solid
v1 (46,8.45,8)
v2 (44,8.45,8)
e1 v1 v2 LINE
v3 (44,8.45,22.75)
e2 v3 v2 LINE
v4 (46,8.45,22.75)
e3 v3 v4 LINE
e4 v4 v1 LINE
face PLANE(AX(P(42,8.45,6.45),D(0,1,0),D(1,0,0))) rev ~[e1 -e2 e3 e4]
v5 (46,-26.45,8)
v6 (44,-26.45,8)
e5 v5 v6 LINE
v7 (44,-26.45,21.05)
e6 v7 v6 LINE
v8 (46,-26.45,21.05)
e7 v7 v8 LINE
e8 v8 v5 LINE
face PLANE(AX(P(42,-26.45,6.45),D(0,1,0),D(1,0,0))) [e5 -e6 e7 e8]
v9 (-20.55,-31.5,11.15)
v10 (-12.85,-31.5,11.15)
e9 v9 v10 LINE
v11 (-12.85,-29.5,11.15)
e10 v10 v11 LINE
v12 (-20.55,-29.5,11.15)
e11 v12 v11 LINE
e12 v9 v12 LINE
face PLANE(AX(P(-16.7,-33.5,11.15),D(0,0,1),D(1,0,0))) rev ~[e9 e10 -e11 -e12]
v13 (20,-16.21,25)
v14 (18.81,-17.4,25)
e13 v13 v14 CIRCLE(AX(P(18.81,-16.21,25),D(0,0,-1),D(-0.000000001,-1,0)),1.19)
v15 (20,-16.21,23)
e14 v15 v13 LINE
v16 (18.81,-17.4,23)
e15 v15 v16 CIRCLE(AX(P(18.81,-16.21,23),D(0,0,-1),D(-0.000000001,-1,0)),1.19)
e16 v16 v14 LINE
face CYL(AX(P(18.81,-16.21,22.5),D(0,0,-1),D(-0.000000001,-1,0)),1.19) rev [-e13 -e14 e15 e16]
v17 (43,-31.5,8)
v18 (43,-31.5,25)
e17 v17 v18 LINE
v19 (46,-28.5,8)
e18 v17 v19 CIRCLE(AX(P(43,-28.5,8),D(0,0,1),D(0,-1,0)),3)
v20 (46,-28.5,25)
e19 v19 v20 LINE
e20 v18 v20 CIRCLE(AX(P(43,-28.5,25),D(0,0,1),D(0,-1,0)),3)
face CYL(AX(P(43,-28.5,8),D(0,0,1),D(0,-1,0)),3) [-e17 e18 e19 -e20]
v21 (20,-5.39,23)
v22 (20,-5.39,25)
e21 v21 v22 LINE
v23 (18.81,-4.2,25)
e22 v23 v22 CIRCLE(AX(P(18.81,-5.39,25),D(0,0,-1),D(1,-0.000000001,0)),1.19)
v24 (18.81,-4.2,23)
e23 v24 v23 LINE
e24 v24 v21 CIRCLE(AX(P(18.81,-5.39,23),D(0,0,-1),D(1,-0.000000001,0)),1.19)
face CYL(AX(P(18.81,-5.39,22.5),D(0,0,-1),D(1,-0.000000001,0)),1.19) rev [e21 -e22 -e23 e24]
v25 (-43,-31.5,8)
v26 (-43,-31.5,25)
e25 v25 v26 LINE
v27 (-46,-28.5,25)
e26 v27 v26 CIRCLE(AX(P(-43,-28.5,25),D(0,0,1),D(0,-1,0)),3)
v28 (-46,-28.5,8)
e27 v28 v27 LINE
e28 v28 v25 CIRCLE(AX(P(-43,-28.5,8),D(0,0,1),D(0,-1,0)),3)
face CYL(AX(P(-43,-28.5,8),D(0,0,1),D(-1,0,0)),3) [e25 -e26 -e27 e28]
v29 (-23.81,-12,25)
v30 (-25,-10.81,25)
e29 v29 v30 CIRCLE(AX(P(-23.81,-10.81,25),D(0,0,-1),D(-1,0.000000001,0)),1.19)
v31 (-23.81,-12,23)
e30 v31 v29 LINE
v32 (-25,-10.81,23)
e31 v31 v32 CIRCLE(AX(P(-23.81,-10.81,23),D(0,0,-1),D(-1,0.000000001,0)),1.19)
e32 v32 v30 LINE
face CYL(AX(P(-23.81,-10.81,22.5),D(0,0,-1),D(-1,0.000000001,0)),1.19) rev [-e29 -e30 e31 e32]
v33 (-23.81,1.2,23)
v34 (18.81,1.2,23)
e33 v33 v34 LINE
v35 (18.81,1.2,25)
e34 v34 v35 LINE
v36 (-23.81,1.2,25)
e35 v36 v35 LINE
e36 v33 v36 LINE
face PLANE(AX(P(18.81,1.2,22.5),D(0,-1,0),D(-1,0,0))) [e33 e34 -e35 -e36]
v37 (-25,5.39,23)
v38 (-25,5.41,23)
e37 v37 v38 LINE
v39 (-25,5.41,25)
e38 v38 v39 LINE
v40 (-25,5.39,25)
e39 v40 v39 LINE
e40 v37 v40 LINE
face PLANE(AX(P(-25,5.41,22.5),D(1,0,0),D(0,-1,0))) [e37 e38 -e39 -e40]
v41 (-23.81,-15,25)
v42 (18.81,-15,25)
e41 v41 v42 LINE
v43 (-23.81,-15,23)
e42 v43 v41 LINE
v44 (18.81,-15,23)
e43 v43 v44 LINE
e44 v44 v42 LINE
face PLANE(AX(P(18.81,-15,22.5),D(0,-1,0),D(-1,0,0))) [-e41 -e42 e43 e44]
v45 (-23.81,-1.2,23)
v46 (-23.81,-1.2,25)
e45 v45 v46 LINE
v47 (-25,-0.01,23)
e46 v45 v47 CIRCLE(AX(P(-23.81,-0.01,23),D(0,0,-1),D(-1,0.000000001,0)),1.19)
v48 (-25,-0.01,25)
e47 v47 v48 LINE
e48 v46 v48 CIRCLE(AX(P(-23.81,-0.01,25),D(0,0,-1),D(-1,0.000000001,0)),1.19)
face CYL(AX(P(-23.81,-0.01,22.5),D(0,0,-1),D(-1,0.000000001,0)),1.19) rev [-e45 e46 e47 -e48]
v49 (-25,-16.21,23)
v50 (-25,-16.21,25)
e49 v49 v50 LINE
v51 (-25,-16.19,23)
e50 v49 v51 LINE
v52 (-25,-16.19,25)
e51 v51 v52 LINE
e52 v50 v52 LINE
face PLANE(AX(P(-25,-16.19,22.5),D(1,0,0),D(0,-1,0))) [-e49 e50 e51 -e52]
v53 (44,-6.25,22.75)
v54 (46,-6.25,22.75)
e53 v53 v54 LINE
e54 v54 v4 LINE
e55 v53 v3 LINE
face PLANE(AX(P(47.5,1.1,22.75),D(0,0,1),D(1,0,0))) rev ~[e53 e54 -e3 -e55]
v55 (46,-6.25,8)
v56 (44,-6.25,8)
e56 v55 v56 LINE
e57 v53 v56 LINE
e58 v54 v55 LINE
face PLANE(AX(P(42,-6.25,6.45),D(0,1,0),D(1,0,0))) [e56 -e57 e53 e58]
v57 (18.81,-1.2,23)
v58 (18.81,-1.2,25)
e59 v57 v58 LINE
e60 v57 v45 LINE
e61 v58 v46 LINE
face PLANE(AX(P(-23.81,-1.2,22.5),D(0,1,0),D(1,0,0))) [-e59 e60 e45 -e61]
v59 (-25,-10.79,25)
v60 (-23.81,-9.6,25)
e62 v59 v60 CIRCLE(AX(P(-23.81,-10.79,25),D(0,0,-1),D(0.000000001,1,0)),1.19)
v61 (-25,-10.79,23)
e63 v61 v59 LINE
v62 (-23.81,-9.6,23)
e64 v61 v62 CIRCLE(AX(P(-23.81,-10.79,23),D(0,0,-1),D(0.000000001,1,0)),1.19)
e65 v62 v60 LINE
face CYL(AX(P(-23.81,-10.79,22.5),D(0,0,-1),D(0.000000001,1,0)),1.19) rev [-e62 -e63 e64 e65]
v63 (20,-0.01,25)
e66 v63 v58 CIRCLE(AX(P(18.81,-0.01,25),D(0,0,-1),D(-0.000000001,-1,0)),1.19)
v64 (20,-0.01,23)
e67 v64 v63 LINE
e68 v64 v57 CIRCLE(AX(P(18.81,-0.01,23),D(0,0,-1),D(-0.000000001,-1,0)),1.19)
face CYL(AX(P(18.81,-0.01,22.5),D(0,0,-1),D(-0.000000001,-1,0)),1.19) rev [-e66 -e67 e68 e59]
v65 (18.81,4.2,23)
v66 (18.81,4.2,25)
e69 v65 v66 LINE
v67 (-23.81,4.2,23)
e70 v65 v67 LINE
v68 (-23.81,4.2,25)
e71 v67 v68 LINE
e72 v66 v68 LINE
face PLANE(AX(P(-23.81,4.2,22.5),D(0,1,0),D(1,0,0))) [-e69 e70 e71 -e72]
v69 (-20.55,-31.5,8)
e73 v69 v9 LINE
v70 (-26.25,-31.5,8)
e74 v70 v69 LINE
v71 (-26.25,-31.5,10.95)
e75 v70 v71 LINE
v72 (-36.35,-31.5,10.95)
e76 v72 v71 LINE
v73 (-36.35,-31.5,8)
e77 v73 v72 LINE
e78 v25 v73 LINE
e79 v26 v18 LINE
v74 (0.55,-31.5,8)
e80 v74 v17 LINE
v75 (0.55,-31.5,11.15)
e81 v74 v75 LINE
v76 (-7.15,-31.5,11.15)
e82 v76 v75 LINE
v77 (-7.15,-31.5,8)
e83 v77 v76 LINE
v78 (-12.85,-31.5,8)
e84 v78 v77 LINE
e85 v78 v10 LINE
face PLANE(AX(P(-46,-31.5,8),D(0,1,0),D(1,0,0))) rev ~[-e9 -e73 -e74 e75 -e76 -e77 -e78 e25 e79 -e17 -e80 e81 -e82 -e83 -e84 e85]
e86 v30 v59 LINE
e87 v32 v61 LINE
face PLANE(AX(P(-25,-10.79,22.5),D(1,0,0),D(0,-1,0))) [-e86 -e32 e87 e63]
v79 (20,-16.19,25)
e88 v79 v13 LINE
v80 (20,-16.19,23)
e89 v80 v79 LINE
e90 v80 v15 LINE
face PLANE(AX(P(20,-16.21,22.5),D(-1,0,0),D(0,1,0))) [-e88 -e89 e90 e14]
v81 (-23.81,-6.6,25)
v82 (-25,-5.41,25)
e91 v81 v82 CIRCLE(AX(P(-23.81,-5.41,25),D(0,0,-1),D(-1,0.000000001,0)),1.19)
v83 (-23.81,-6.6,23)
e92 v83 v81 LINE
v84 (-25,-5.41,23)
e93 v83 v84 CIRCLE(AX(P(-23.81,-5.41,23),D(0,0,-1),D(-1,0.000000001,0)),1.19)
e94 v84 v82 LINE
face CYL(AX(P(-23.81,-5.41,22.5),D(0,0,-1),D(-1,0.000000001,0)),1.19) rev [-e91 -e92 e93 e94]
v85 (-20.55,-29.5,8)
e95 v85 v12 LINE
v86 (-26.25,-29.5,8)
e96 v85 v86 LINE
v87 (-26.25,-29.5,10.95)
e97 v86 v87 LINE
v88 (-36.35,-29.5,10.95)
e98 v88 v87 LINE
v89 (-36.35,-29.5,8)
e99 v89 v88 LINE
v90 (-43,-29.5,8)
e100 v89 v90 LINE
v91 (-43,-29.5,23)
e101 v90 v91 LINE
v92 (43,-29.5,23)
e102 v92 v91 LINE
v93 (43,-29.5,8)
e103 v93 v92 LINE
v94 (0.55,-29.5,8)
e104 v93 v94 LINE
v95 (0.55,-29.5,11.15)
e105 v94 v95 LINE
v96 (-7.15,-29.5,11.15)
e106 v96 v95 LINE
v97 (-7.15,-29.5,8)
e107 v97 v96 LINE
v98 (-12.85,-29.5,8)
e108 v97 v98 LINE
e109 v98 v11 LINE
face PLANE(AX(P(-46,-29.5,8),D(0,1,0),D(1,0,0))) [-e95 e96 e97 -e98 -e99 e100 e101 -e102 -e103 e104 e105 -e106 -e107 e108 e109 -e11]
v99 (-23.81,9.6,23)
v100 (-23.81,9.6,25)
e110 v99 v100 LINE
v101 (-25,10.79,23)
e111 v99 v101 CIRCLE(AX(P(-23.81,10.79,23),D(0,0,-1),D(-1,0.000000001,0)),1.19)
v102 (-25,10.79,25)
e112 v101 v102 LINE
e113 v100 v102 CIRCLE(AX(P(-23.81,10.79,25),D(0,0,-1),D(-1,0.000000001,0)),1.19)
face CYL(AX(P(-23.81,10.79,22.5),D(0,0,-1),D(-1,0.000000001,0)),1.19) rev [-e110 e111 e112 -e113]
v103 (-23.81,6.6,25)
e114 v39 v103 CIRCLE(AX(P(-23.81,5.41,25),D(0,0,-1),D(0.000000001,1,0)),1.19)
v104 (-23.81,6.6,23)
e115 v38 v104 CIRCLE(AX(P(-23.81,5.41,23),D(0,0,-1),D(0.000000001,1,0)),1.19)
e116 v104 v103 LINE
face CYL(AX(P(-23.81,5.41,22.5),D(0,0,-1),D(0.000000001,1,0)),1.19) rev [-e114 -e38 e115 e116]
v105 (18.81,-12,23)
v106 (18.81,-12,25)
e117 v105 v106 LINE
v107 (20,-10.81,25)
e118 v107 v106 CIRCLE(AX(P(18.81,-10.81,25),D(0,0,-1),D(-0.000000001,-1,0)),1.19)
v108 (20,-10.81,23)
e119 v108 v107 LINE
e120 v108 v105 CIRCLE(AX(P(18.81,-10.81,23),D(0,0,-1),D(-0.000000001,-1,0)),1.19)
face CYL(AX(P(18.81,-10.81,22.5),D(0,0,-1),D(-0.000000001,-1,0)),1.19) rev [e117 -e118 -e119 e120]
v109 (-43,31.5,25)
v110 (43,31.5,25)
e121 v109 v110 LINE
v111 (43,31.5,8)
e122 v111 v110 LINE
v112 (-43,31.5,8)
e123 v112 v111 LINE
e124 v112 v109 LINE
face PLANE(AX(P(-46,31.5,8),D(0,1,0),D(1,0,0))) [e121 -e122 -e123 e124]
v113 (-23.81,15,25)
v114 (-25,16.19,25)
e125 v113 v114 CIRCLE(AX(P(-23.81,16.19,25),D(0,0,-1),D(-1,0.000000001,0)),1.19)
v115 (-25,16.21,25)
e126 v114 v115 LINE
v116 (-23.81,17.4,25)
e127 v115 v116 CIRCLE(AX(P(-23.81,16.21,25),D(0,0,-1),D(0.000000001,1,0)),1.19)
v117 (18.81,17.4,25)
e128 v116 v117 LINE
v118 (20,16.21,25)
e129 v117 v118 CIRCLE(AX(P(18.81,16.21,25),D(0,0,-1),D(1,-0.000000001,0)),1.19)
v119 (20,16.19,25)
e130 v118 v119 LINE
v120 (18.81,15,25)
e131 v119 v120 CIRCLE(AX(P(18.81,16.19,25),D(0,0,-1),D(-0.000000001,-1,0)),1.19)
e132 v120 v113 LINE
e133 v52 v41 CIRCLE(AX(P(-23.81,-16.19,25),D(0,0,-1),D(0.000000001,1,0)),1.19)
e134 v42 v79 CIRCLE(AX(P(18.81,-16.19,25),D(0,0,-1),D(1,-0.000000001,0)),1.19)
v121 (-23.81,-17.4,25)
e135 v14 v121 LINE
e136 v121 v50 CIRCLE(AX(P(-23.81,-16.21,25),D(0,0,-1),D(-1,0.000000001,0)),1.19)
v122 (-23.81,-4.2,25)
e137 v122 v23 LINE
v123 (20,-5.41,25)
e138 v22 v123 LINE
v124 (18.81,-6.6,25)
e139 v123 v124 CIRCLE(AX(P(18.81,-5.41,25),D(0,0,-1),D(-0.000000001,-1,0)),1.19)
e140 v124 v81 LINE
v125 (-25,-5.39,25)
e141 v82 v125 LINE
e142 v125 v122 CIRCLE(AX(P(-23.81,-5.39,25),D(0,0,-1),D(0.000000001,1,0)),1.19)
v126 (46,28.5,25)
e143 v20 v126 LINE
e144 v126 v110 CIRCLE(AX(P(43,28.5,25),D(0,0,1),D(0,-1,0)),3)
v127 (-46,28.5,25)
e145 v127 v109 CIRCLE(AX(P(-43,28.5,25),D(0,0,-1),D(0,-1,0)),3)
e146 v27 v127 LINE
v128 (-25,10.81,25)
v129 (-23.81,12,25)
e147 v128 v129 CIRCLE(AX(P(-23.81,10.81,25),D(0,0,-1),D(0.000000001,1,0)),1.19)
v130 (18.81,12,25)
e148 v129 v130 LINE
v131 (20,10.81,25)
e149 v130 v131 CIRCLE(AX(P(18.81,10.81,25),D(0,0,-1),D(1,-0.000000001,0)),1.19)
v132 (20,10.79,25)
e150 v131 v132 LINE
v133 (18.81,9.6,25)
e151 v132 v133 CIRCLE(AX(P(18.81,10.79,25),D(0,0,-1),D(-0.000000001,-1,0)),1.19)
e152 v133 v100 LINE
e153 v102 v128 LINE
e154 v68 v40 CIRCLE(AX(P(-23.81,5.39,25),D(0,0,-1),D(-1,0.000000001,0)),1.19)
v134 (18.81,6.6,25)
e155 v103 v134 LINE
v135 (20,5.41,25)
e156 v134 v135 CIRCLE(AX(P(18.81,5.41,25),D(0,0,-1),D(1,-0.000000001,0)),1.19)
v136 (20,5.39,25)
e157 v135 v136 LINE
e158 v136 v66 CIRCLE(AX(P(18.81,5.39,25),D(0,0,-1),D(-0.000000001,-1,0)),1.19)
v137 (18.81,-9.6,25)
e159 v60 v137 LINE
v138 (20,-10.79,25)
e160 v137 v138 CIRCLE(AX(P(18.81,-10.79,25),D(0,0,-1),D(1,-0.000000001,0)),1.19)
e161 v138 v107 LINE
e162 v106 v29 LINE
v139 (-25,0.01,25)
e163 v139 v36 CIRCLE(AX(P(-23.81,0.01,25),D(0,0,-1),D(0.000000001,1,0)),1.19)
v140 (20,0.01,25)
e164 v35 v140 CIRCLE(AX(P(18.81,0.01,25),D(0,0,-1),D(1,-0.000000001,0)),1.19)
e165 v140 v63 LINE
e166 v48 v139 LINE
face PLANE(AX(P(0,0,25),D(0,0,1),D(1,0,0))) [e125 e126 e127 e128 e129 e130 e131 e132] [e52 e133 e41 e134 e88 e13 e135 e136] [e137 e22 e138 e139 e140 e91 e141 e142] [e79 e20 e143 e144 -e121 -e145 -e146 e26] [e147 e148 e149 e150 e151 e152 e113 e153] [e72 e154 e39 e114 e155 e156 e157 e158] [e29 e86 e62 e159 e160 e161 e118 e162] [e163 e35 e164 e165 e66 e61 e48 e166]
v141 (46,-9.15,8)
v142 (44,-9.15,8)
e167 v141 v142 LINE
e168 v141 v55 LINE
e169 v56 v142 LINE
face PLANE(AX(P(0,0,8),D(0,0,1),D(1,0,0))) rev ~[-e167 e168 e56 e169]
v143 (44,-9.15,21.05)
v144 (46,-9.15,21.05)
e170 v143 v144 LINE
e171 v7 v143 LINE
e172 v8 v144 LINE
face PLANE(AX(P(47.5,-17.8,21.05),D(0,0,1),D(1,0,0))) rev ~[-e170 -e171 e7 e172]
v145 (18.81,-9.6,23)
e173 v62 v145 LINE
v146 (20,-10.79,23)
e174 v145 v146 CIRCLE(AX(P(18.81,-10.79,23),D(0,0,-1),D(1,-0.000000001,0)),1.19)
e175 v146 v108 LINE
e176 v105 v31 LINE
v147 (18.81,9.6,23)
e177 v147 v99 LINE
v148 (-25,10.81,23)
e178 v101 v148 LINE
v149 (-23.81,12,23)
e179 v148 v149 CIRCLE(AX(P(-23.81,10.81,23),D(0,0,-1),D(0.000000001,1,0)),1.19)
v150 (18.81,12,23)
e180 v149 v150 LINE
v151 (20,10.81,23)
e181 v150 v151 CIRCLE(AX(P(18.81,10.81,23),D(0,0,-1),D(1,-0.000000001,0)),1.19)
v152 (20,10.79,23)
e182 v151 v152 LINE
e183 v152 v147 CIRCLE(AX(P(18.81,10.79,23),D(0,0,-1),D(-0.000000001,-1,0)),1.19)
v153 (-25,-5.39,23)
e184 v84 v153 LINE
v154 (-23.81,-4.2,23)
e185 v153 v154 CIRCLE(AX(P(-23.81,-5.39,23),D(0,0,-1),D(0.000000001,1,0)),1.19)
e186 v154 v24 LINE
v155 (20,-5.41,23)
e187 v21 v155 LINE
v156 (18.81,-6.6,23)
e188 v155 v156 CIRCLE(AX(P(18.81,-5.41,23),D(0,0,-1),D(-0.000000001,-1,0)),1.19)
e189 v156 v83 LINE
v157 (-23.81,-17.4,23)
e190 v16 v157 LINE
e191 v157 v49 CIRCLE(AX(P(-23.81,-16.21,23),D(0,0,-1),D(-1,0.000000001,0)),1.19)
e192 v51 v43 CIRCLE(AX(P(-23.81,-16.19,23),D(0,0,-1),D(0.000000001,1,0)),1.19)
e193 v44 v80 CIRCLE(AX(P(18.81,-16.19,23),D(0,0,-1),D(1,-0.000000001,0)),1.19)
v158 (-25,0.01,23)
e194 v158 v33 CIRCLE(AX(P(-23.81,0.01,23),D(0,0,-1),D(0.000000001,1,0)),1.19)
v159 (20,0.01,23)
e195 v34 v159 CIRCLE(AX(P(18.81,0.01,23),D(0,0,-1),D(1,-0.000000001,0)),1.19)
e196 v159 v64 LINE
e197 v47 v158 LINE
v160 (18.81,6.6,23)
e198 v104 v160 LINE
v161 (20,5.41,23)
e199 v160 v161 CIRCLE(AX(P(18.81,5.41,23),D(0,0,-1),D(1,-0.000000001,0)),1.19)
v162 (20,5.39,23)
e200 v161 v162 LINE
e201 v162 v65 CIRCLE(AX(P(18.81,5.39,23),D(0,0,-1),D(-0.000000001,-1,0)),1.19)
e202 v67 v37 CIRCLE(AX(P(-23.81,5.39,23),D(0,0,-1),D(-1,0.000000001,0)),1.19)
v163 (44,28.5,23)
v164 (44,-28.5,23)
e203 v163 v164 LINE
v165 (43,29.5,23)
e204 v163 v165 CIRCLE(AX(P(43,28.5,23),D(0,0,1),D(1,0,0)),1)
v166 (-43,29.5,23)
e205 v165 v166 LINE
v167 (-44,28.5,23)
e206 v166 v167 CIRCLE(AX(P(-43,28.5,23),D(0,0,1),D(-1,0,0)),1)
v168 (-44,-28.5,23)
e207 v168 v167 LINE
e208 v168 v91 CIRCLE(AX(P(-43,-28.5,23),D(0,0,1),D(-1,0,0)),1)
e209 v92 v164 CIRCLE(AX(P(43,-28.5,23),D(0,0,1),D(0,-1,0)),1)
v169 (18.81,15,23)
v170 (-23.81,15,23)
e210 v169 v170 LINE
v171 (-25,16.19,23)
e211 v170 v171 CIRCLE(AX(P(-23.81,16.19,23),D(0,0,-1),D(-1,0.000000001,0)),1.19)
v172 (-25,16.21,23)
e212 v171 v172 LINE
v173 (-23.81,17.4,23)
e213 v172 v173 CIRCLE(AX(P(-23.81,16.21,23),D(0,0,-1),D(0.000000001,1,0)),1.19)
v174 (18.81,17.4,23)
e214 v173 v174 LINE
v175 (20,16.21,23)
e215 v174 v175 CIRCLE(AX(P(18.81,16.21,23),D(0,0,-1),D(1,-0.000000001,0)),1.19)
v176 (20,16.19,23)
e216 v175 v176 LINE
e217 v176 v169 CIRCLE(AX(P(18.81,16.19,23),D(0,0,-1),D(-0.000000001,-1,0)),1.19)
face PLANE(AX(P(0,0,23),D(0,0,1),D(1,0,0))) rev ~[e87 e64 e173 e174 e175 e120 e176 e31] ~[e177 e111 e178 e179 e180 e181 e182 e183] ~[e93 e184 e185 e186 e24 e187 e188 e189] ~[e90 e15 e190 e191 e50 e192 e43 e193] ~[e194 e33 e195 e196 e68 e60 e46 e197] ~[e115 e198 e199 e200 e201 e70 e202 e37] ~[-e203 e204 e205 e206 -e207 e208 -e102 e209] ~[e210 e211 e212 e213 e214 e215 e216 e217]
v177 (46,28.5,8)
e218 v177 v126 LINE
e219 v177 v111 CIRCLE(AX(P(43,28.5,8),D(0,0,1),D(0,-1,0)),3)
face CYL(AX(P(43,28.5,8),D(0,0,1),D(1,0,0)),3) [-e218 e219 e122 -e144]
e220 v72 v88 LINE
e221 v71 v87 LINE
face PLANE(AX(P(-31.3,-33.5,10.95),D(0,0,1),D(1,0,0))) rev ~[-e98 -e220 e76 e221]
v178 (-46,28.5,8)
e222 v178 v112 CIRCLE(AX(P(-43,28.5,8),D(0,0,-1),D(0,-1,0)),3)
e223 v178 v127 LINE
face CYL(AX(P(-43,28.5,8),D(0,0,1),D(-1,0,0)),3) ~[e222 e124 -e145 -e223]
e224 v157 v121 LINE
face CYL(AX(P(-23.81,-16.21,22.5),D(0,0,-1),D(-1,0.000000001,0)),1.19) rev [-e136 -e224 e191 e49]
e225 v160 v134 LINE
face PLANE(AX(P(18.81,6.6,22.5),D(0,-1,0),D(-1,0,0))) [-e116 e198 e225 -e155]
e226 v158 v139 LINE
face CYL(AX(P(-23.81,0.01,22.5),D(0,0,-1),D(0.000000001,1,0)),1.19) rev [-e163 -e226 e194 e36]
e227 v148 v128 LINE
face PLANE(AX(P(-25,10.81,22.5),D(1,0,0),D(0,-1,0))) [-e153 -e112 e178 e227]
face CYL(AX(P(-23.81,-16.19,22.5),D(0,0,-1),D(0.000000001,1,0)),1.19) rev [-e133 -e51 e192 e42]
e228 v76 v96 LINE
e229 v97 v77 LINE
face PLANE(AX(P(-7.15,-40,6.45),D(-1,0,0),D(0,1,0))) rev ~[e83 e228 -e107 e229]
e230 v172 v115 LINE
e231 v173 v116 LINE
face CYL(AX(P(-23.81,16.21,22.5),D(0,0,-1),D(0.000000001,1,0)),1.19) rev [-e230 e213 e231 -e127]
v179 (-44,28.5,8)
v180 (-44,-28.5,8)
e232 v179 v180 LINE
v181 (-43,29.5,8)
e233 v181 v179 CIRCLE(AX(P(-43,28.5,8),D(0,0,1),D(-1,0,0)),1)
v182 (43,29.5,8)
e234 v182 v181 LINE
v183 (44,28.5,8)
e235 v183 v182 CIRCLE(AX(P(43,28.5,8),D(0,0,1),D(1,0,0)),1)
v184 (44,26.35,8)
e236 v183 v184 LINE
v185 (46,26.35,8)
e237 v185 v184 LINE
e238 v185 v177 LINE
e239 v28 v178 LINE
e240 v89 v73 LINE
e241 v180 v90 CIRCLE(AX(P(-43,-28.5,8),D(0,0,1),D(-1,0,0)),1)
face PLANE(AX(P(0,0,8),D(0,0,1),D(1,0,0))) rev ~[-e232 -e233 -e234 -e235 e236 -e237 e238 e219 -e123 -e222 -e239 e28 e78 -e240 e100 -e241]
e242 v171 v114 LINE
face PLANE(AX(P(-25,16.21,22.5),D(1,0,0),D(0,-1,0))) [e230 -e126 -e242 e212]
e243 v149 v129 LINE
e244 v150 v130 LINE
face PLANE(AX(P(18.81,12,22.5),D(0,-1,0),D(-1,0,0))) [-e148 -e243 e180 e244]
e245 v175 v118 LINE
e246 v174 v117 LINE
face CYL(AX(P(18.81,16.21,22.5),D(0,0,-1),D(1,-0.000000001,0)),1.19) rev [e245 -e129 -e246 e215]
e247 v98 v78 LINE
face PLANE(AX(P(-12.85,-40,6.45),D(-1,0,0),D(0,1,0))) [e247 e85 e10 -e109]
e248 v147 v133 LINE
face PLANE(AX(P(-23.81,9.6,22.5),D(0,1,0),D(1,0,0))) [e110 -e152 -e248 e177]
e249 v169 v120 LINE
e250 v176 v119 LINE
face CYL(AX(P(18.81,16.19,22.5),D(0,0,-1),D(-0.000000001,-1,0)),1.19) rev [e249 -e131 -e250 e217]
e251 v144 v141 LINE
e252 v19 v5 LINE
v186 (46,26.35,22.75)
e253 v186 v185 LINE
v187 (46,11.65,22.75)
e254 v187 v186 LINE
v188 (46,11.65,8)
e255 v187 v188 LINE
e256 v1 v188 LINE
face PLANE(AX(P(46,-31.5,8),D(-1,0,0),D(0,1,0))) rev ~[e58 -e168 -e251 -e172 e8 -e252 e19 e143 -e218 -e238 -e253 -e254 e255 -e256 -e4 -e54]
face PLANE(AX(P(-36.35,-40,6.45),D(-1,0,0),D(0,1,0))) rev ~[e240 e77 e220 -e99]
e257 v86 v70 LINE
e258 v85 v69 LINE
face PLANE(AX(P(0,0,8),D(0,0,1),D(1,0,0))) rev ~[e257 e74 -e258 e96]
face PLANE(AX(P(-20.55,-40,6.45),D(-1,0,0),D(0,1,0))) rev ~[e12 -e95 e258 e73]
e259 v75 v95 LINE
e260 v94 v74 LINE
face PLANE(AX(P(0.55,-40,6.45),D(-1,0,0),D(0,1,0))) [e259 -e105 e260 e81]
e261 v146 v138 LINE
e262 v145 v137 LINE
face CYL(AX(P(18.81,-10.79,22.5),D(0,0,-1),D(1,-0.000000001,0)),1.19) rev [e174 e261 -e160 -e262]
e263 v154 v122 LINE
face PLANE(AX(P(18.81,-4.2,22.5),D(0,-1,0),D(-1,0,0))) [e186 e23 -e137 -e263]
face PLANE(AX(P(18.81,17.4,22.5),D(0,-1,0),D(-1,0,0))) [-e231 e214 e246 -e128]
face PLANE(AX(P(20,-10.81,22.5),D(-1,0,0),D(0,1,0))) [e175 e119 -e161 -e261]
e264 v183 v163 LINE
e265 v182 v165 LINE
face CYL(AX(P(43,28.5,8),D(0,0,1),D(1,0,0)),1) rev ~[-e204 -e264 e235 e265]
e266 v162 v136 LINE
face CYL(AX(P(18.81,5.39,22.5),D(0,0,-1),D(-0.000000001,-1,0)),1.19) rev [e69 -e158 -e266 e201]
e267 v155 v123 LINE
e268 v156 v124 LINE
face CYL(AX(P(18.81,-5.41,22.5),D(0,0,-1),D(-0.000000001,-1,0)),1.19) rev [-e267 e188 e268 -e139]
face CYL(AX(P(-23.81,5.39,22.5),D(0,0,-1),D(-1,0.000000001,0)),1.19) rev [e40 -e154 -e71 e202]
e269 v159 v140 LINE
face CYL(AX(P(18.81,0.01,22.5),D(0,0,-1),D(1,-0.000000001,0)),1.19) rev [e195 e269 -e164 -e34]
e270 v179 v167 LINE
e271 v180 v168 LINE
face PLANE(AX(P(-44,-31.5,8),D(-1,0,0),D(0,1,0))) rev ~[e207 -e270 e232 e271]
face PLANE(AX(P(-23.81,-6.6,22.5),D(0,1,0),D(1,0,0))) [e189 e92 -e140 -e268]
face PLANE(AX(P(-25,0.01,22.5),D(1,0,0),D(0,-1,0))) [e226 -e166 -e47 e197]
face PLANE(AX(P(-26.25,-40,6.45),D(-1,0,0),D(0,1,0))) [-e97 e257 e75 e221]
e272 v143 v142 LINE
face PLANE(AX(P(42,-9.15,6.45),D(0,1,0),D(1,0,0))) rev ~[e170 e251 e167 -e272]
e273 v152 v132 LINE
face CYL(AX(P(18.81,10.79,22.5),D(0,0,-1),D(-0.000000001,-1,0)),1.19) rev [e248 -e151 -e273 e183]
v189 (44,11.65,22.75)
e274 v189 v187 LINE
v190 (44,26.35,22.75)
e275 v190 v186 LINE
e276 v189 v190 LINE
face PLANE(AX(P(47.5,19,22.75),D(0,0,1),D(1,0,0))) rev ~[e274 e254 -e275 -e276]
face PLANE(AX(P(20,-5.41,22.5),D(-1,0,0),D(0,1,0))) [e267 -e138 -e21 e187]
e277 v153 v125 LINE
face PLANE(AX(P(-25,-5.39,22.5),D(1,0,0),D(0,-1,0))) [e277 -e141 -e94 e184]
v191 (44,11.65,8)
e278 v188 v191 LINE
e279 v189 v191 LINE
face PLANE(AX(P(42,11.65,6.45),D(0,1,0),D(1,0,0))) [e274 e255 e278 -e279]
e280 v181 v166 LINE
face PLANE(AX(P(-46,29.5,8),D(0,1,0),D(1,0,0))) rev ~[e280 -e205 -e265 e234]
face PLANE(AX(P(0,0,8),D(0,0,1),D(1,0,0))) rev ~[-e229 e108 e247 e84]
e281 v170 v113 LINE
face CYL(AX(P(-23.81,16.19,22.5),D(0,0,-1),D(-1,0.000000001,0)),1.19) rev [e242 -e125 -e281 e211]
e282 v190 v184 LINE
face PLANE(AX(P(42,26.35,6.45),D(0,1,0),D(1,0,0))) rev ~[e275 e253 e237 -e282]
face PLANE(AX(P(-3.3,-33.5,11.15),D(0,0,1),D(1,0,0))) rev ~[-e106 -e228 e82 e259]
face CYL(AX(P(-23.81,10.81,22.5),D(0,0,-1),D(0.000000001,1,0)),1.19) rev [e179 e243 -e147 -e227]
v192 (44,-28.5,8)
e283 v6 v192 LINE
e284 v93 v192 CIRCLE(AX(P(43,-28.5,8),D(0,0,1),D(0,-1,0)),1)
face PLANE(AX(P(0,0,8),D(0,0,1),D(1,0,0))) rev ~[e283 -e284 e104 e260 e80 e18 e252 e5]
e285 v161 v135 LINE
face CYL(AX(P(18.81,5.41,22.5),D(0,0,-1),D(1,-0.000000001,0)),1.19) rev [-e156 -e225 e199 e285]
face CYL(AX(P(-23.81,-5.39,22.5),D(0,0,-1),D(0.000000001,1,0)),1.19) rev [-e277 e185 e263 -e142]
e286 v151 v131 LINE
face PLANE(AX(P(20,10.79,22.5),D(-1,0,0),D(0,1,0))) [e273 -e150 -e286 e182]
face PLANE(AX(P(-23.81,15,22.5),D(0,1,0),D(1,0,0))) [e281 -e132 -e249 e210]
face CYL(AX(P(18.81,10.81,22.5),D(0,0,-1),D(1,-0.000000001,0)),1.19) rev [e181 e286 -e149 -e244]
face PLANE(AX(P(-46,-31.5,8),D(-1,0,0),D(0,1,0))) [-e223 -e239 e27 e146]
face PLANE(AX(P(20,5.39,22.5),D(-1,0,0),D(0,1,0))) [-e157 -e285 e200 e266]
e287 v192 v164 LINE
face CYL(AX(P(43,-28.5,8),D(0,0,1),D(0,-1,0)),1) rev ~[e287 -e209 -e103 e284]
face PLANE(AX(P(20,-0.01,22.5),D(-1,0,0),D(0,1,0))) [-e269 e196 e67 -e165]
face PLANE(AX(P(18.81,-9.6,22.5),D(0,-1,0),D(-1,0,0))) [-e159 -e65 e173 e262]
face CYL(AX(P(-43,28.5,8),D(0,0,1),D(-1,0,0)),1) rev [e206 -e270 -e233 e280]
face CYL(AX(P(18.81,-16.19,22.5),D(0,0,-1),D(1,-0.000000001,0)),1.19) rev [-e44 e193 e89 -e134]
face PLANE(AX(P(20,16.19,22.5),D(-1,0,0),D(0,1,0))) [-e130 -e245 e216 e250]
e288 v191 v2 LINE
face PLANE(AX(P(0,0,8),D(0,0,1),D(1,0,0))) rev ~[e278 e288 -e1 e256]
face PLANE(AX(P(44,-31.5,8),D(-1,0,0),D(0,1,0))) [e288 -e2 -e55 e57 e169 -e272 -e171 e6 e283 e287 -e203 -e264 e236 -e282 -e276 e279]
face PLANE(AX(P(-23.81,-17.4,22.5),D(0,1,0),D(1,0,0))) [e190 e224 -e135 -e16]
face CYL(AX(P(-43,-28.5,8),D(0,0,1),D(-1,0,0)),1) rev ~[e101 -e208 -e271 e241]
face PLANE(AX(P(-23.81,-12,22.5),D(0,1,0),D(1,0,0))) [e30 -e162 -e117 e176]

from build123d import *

# Parameters (mm, degrees)
TOP_ENVELOPE_START         = 8
CASEENVELOPE_W             = 92
CASEENVELOPE_H             = 63
TOP_ENVELOPE_DEPTH         = 17
OUTSIDE_R3_R               = 3
SHELL_1_T                  = -2
SIDEPORT_CLEARANCE_1_START = 6.45
SIDEPORT_PROFILE_1_W       = 10.1
SIDEPORT_PROFILE_1_H       = 13
SIDEPORT_CLEARANCE_1_DEPTH = 4.5
SIDEPORT_CLEARANCE_2_START = 6.45
SIDEPORT_PROFILE_2_W       = 7.7
SIDEPORT_PROFILE_2_H       = 13
SIDEPORT_CLEARANCE_2_DEPTH = 4.7
SIDEPORT_CLEARANCE_3_START = 6.45
SIDEPORT_PROFILE_3_W       = 7.7
SIDEPORT_PROFILE_3_H       = 13
SIDEPORT_CLEARANCE_3_DEPTH = 4.7
ENDPORT_CLEARANCE_1_START  = 6.45
ENDPORT_PROFILE_1_W        = 11
ENDPORT_PROFILE_1_H        = 17.3
ENDPORT_CLEARANCE_1_DEPTH  = 14.6
ENDPORT_CLEARANCE_2_START  = 6.45
ENDPORT_PROFILE_2_W        = 11
ENDPORT_PROFILE_2_H        = 14.7
ENDPORT_CLEARANCE_2_DEPTH  = 16.3
ENDPORT_CLEARANCE_3_START  = 6.45
ENDPORT_PROFILE_3_W        = 11
ENDPORT_PROFILE_3_H        = 14.7
ENDPORT_CLEARANCE_3_DEPTH  = 16.3
COOLING_SLOTS_START        = 22.5
COOLING_SLOTS_DEPTH        = 3


with BuildPart() as part:
    # CaseEnvelope → Top_Envelope (new body)
    with BuildSketch(Plane.XY.offset(TOP_ENVELOPE_START)):
        Rectangle(CASEENVELOPE_W, CASEENVELOPE_H)
    extrude(amount=TOP_ENVELOPE_DEPTH)

    # Outside_R3
    outside_r3_edges = [part.edges().sort_by_distance(p)[0] for p in [
        (46, -31.5, 16.5),
        (-46, -31.5, 16.5),
        (-46, 31.5, 16.5),
        (46, 31.5, 16.5),
    ]]
    fillet(outside_r3_edges, radius=OUTSIDE_R3_R)

    # Shell 1
    shell_1_openings = [part.faces().sort_by_distance(p)[0] for p in [
        (0, 0, 8),
    ]]
    offset(amount=SHELL_1_T, openings=shell_1_openings, kind=Kind.INTERSECTION)

    # SidePort_Profile_1 → SidePort_Clearance_1 (cut)
    with BuildSketch(Plane.XY.offset(SIDEPORT_CLEARANCE_1_START)):
        with Locations((-31.3, -33.5)):
            Rectangle(SIDEPORT_PROFILE_1_W, SIDEPORT_PROFILE_1_H)
    extrude(amount=SIDEPORT_CLEARANCE_1_DEPTH, mode=Mode.SUBTRACT)

    # SidePort_Profile_2 → SidePort_Clearance_2 (cut)
    with BuildSketch(Plane.XY.offset(SIDEPORT_CLEARANCE_2_START)):
        with Locations((-16.7, -33.5)):
            Rectangle(SIDEPORT_PROFILE_2_W, SIDEPORT_PROFILE_2_H)
    extrude(amount=SIDEPORT_CLEARANCE_2_DEPTH, mode=Mode.SUBTRACT)

    # SidePort_Profile_3 → SidePort_Clearance_3 (cut)
    with BuildSketch(Plane.XY.offset(SIDEPORT_CLEARANCE_3_START)):
        with Locations((-3.3, -33.5)):
            Rectangle(SIDEPORT_PROFILE_3_W, SIDEPORT_PROFILE_3_H)
    extrude(amount=SIDEPORT_CLEARANCE_3_DEPTH, mode=Mode.SUBTRACT)

    # EndPort_Profile_1 → EndPort_Clearance_1 (cut)
    with BuildSketch(Plane.XY.offset(ENDPORT_CLEARANCE_1_START)):
        with Locations((47.5, -17.8)):
            Rectangle(ENDPORT_PROFILE_1_W, ENDPORT_PROFILE_1_H)
    extrude(amount=ENDPORT_CLEARANCE_1_DEPTH, mode=Mode.SUBTRACT)

    # EndPort_Profile_2 → EndPort_Clearance_2 (cut)
    with BuildSketch(Plane.XY.offset(ENDPORT_CLEARANCE_2_START)):
        with Locations((47.5, 1.1)):
            Rectangle(ENDPORT_PROFILE_2_W, ENDPORT_PROFILE_2_H)
    extrude(amount=ENDPORT_CLEARANCE_2_DEPTH, mode=Mode.SUBTRACT)

    # EndPort_Profile_3 → EndPort_Clearance_3 (cut)
    with BuildSketch(Plane.XY.offset(ENDPORT_CLEARANCE_3_START)):
        with Locations((47.5, 19)):
            Rectangle(ENDPORT_PROFILE_3_W, ENDPORT_PROFILE_3_H)
    extrude(amount=ENDPORT_CLEARANCE_3_DEPTH, mode=Mode.SUBTRACT)

    # Cooling_Slot_Profiles → Cooling_Slots (cut)
    with BuildSketch(Plane.XY.offset(COOLING_SLOTS_START)):
        with BuildLine():
            Line((-23.81, -17.4), (18.81, -17.4))
            ThreePointArc((18.81, -17.4), (19.65145707, -17.05145707), (20, -16.21))
            Line((20, -16.21), (20, -16.19))
            ThreePointArc((20, -16.19), (19.65145707, -15.34854293), (18.81, -15))
            Line((18.81, -15), (-23.81, -15))
            ThreePointArc((-23.81, -15), (-24.65145707, -15.34854293), (-25, -16.19))
            Line((-25, -16.19), (-25, -16.21))
            ThreePointArc((-25, -16.21), (-24.65145707, -17.05145707), (-23.81, -17.4))
        make_face()
        with BuildLine():
            Line((-23.81, -12), (18.81, -12))
            ThreePointArc((18.81, -12), (19.65145707, -11.65145707), (20, -10.81))
            Line((20, -10.81), (20, -10.79))
            ThreePointArc((20, -10.79), (19.65145707, -9.94854293), (18.81, -9.6))
            Line((18.81, -9.6), (-23.81, -9.6))
            ThreePointArc((-23.81, -9.6), (-24.65145707, -9.94854293), (-25, -10.79))
            Line((-25, -10.79), (-25, -10.81))
            ThreePointArc((-25, -10.81), (-24.65145707, -11.65145707), (-23.81, -12))
        make_face()
        with BuildLine():
            Line((-23.81, -6.6), (18.81, -6.6))
            ThreePointArc((18.81, -6.6), (19.65145707, -6.25145707), (20, -5.41))
            Line((20, -5.41), (20, -5.39))
            ThreePointArc((20, -5.39), (19.65145707, -4.54854293), (18.81, -4.2))
            Line((18.81, -4.2), (-23.81, -4.2))
            ThreePointArc((-23.81, -4.2), (-24.65145707, -4.54854293), (-25, -5.39))
            Line((-25, -5.39), (-25, -5.41))
            ThreePointArc((-25, -5.41), (-24.65145707, -6.25145707), (-23.81, -6.6))
        make_face()
        with BuildLine():
            Line((-23.81, -1.2), (18.81, -1.2))
            ThreePointArc((18.81, -1.2), (19.65145707, -0.85145707), (20, -0.01))
            Line((20, -0.01), (20, 0.01))
            ThreePointArc((20, 0.01), (19.65145707, 0.85145707), (18.81, 1.2))
            Line((18.81, 1.2), (-23.81, 1.2))
            ThreePointArc((-23.81, 1.2), (-24.65145707, 0.85145707), (-25, 0.01))
            Line((-25, 0.01), (-25, -0.01))
            ThreePointArc((-25, -0.01), (-24.65145707, -0.85145707), (-23.81, -1.2))
        make_face()
        with BuildLine():
            Line((-23.81, 4.2), (18.81, 4.2))
            ThreePointArc((18.81, 4.2), (19.65145707, 4.54854293), (20, 5.39))
            Line((20, 5.39), (20, 5.41))
            ThreePointArc((20, 5.41), (19.65145707, 6.25145707), (18.81, 6.6))
            Line((18.81, 6.6), (-23.81, 6.6))
            ThreePointArc((-23.81, 6.6), (-24.65145707, 6.25145707), (-25, 5.41))
            Line((-25, 5.41), (-25, 5.39))
            ThreePointArc((-25, 5.39), (-24.65145707, 4.54854293), (-23.81, 4.2))
        make_face()
        with BuildLine():
            Line((-23.81, 9.6), (18.81, 9.6))
            ThreePointArc((18.81, 9.6), (19.65145707, 9.94854293), (20, 10.79))
            Line((20, 10.79), (20, 10.81))
            ThreePointArc((20, 10.81), (19.65145707, 11.65145707), (18.81, 12))
            Line((18.81, 12), (-23.81, 12))
            ThreePointArc((-23.81, 12), (-24.65145707, 11.65145707), (-25, 10.81))
            Line((-25, 10.81), (-25, 10.79))
            ThreePointArc((-25, 10.79), (-24.65145707, 9.94854293), (-23.81, 9.6))
        make_face()
        with BuildLine():
            Line((-23.81, 15), (18.81, 15))
            ThreePointArc((18.81, 15), (19.65145707, 15.34854293), (20, 16.19))
            Line((20, 16.19), (20, 16.21))
            ThreePointArc((20, 16.21), (19.65145707, 17.05145707), (18.81, 17.4))
            Line((18.81, 17.4), (-23.81, 17.4))
            ThreePointArc((-23.81, 17.4), (-24.65145707, 17.05145707), (-25, 16.21))
            Line((-25, 16.21), (-25, 16.19))
            ThreePointArc((-25, 16.19), (-24.65145707, 15.34854293), (-23.81, 15))
        make_face()
    extrude(amount=COOLING_SLOTS_DEPTH, mode=Mode.SUBTRACT)


solid = part.part
